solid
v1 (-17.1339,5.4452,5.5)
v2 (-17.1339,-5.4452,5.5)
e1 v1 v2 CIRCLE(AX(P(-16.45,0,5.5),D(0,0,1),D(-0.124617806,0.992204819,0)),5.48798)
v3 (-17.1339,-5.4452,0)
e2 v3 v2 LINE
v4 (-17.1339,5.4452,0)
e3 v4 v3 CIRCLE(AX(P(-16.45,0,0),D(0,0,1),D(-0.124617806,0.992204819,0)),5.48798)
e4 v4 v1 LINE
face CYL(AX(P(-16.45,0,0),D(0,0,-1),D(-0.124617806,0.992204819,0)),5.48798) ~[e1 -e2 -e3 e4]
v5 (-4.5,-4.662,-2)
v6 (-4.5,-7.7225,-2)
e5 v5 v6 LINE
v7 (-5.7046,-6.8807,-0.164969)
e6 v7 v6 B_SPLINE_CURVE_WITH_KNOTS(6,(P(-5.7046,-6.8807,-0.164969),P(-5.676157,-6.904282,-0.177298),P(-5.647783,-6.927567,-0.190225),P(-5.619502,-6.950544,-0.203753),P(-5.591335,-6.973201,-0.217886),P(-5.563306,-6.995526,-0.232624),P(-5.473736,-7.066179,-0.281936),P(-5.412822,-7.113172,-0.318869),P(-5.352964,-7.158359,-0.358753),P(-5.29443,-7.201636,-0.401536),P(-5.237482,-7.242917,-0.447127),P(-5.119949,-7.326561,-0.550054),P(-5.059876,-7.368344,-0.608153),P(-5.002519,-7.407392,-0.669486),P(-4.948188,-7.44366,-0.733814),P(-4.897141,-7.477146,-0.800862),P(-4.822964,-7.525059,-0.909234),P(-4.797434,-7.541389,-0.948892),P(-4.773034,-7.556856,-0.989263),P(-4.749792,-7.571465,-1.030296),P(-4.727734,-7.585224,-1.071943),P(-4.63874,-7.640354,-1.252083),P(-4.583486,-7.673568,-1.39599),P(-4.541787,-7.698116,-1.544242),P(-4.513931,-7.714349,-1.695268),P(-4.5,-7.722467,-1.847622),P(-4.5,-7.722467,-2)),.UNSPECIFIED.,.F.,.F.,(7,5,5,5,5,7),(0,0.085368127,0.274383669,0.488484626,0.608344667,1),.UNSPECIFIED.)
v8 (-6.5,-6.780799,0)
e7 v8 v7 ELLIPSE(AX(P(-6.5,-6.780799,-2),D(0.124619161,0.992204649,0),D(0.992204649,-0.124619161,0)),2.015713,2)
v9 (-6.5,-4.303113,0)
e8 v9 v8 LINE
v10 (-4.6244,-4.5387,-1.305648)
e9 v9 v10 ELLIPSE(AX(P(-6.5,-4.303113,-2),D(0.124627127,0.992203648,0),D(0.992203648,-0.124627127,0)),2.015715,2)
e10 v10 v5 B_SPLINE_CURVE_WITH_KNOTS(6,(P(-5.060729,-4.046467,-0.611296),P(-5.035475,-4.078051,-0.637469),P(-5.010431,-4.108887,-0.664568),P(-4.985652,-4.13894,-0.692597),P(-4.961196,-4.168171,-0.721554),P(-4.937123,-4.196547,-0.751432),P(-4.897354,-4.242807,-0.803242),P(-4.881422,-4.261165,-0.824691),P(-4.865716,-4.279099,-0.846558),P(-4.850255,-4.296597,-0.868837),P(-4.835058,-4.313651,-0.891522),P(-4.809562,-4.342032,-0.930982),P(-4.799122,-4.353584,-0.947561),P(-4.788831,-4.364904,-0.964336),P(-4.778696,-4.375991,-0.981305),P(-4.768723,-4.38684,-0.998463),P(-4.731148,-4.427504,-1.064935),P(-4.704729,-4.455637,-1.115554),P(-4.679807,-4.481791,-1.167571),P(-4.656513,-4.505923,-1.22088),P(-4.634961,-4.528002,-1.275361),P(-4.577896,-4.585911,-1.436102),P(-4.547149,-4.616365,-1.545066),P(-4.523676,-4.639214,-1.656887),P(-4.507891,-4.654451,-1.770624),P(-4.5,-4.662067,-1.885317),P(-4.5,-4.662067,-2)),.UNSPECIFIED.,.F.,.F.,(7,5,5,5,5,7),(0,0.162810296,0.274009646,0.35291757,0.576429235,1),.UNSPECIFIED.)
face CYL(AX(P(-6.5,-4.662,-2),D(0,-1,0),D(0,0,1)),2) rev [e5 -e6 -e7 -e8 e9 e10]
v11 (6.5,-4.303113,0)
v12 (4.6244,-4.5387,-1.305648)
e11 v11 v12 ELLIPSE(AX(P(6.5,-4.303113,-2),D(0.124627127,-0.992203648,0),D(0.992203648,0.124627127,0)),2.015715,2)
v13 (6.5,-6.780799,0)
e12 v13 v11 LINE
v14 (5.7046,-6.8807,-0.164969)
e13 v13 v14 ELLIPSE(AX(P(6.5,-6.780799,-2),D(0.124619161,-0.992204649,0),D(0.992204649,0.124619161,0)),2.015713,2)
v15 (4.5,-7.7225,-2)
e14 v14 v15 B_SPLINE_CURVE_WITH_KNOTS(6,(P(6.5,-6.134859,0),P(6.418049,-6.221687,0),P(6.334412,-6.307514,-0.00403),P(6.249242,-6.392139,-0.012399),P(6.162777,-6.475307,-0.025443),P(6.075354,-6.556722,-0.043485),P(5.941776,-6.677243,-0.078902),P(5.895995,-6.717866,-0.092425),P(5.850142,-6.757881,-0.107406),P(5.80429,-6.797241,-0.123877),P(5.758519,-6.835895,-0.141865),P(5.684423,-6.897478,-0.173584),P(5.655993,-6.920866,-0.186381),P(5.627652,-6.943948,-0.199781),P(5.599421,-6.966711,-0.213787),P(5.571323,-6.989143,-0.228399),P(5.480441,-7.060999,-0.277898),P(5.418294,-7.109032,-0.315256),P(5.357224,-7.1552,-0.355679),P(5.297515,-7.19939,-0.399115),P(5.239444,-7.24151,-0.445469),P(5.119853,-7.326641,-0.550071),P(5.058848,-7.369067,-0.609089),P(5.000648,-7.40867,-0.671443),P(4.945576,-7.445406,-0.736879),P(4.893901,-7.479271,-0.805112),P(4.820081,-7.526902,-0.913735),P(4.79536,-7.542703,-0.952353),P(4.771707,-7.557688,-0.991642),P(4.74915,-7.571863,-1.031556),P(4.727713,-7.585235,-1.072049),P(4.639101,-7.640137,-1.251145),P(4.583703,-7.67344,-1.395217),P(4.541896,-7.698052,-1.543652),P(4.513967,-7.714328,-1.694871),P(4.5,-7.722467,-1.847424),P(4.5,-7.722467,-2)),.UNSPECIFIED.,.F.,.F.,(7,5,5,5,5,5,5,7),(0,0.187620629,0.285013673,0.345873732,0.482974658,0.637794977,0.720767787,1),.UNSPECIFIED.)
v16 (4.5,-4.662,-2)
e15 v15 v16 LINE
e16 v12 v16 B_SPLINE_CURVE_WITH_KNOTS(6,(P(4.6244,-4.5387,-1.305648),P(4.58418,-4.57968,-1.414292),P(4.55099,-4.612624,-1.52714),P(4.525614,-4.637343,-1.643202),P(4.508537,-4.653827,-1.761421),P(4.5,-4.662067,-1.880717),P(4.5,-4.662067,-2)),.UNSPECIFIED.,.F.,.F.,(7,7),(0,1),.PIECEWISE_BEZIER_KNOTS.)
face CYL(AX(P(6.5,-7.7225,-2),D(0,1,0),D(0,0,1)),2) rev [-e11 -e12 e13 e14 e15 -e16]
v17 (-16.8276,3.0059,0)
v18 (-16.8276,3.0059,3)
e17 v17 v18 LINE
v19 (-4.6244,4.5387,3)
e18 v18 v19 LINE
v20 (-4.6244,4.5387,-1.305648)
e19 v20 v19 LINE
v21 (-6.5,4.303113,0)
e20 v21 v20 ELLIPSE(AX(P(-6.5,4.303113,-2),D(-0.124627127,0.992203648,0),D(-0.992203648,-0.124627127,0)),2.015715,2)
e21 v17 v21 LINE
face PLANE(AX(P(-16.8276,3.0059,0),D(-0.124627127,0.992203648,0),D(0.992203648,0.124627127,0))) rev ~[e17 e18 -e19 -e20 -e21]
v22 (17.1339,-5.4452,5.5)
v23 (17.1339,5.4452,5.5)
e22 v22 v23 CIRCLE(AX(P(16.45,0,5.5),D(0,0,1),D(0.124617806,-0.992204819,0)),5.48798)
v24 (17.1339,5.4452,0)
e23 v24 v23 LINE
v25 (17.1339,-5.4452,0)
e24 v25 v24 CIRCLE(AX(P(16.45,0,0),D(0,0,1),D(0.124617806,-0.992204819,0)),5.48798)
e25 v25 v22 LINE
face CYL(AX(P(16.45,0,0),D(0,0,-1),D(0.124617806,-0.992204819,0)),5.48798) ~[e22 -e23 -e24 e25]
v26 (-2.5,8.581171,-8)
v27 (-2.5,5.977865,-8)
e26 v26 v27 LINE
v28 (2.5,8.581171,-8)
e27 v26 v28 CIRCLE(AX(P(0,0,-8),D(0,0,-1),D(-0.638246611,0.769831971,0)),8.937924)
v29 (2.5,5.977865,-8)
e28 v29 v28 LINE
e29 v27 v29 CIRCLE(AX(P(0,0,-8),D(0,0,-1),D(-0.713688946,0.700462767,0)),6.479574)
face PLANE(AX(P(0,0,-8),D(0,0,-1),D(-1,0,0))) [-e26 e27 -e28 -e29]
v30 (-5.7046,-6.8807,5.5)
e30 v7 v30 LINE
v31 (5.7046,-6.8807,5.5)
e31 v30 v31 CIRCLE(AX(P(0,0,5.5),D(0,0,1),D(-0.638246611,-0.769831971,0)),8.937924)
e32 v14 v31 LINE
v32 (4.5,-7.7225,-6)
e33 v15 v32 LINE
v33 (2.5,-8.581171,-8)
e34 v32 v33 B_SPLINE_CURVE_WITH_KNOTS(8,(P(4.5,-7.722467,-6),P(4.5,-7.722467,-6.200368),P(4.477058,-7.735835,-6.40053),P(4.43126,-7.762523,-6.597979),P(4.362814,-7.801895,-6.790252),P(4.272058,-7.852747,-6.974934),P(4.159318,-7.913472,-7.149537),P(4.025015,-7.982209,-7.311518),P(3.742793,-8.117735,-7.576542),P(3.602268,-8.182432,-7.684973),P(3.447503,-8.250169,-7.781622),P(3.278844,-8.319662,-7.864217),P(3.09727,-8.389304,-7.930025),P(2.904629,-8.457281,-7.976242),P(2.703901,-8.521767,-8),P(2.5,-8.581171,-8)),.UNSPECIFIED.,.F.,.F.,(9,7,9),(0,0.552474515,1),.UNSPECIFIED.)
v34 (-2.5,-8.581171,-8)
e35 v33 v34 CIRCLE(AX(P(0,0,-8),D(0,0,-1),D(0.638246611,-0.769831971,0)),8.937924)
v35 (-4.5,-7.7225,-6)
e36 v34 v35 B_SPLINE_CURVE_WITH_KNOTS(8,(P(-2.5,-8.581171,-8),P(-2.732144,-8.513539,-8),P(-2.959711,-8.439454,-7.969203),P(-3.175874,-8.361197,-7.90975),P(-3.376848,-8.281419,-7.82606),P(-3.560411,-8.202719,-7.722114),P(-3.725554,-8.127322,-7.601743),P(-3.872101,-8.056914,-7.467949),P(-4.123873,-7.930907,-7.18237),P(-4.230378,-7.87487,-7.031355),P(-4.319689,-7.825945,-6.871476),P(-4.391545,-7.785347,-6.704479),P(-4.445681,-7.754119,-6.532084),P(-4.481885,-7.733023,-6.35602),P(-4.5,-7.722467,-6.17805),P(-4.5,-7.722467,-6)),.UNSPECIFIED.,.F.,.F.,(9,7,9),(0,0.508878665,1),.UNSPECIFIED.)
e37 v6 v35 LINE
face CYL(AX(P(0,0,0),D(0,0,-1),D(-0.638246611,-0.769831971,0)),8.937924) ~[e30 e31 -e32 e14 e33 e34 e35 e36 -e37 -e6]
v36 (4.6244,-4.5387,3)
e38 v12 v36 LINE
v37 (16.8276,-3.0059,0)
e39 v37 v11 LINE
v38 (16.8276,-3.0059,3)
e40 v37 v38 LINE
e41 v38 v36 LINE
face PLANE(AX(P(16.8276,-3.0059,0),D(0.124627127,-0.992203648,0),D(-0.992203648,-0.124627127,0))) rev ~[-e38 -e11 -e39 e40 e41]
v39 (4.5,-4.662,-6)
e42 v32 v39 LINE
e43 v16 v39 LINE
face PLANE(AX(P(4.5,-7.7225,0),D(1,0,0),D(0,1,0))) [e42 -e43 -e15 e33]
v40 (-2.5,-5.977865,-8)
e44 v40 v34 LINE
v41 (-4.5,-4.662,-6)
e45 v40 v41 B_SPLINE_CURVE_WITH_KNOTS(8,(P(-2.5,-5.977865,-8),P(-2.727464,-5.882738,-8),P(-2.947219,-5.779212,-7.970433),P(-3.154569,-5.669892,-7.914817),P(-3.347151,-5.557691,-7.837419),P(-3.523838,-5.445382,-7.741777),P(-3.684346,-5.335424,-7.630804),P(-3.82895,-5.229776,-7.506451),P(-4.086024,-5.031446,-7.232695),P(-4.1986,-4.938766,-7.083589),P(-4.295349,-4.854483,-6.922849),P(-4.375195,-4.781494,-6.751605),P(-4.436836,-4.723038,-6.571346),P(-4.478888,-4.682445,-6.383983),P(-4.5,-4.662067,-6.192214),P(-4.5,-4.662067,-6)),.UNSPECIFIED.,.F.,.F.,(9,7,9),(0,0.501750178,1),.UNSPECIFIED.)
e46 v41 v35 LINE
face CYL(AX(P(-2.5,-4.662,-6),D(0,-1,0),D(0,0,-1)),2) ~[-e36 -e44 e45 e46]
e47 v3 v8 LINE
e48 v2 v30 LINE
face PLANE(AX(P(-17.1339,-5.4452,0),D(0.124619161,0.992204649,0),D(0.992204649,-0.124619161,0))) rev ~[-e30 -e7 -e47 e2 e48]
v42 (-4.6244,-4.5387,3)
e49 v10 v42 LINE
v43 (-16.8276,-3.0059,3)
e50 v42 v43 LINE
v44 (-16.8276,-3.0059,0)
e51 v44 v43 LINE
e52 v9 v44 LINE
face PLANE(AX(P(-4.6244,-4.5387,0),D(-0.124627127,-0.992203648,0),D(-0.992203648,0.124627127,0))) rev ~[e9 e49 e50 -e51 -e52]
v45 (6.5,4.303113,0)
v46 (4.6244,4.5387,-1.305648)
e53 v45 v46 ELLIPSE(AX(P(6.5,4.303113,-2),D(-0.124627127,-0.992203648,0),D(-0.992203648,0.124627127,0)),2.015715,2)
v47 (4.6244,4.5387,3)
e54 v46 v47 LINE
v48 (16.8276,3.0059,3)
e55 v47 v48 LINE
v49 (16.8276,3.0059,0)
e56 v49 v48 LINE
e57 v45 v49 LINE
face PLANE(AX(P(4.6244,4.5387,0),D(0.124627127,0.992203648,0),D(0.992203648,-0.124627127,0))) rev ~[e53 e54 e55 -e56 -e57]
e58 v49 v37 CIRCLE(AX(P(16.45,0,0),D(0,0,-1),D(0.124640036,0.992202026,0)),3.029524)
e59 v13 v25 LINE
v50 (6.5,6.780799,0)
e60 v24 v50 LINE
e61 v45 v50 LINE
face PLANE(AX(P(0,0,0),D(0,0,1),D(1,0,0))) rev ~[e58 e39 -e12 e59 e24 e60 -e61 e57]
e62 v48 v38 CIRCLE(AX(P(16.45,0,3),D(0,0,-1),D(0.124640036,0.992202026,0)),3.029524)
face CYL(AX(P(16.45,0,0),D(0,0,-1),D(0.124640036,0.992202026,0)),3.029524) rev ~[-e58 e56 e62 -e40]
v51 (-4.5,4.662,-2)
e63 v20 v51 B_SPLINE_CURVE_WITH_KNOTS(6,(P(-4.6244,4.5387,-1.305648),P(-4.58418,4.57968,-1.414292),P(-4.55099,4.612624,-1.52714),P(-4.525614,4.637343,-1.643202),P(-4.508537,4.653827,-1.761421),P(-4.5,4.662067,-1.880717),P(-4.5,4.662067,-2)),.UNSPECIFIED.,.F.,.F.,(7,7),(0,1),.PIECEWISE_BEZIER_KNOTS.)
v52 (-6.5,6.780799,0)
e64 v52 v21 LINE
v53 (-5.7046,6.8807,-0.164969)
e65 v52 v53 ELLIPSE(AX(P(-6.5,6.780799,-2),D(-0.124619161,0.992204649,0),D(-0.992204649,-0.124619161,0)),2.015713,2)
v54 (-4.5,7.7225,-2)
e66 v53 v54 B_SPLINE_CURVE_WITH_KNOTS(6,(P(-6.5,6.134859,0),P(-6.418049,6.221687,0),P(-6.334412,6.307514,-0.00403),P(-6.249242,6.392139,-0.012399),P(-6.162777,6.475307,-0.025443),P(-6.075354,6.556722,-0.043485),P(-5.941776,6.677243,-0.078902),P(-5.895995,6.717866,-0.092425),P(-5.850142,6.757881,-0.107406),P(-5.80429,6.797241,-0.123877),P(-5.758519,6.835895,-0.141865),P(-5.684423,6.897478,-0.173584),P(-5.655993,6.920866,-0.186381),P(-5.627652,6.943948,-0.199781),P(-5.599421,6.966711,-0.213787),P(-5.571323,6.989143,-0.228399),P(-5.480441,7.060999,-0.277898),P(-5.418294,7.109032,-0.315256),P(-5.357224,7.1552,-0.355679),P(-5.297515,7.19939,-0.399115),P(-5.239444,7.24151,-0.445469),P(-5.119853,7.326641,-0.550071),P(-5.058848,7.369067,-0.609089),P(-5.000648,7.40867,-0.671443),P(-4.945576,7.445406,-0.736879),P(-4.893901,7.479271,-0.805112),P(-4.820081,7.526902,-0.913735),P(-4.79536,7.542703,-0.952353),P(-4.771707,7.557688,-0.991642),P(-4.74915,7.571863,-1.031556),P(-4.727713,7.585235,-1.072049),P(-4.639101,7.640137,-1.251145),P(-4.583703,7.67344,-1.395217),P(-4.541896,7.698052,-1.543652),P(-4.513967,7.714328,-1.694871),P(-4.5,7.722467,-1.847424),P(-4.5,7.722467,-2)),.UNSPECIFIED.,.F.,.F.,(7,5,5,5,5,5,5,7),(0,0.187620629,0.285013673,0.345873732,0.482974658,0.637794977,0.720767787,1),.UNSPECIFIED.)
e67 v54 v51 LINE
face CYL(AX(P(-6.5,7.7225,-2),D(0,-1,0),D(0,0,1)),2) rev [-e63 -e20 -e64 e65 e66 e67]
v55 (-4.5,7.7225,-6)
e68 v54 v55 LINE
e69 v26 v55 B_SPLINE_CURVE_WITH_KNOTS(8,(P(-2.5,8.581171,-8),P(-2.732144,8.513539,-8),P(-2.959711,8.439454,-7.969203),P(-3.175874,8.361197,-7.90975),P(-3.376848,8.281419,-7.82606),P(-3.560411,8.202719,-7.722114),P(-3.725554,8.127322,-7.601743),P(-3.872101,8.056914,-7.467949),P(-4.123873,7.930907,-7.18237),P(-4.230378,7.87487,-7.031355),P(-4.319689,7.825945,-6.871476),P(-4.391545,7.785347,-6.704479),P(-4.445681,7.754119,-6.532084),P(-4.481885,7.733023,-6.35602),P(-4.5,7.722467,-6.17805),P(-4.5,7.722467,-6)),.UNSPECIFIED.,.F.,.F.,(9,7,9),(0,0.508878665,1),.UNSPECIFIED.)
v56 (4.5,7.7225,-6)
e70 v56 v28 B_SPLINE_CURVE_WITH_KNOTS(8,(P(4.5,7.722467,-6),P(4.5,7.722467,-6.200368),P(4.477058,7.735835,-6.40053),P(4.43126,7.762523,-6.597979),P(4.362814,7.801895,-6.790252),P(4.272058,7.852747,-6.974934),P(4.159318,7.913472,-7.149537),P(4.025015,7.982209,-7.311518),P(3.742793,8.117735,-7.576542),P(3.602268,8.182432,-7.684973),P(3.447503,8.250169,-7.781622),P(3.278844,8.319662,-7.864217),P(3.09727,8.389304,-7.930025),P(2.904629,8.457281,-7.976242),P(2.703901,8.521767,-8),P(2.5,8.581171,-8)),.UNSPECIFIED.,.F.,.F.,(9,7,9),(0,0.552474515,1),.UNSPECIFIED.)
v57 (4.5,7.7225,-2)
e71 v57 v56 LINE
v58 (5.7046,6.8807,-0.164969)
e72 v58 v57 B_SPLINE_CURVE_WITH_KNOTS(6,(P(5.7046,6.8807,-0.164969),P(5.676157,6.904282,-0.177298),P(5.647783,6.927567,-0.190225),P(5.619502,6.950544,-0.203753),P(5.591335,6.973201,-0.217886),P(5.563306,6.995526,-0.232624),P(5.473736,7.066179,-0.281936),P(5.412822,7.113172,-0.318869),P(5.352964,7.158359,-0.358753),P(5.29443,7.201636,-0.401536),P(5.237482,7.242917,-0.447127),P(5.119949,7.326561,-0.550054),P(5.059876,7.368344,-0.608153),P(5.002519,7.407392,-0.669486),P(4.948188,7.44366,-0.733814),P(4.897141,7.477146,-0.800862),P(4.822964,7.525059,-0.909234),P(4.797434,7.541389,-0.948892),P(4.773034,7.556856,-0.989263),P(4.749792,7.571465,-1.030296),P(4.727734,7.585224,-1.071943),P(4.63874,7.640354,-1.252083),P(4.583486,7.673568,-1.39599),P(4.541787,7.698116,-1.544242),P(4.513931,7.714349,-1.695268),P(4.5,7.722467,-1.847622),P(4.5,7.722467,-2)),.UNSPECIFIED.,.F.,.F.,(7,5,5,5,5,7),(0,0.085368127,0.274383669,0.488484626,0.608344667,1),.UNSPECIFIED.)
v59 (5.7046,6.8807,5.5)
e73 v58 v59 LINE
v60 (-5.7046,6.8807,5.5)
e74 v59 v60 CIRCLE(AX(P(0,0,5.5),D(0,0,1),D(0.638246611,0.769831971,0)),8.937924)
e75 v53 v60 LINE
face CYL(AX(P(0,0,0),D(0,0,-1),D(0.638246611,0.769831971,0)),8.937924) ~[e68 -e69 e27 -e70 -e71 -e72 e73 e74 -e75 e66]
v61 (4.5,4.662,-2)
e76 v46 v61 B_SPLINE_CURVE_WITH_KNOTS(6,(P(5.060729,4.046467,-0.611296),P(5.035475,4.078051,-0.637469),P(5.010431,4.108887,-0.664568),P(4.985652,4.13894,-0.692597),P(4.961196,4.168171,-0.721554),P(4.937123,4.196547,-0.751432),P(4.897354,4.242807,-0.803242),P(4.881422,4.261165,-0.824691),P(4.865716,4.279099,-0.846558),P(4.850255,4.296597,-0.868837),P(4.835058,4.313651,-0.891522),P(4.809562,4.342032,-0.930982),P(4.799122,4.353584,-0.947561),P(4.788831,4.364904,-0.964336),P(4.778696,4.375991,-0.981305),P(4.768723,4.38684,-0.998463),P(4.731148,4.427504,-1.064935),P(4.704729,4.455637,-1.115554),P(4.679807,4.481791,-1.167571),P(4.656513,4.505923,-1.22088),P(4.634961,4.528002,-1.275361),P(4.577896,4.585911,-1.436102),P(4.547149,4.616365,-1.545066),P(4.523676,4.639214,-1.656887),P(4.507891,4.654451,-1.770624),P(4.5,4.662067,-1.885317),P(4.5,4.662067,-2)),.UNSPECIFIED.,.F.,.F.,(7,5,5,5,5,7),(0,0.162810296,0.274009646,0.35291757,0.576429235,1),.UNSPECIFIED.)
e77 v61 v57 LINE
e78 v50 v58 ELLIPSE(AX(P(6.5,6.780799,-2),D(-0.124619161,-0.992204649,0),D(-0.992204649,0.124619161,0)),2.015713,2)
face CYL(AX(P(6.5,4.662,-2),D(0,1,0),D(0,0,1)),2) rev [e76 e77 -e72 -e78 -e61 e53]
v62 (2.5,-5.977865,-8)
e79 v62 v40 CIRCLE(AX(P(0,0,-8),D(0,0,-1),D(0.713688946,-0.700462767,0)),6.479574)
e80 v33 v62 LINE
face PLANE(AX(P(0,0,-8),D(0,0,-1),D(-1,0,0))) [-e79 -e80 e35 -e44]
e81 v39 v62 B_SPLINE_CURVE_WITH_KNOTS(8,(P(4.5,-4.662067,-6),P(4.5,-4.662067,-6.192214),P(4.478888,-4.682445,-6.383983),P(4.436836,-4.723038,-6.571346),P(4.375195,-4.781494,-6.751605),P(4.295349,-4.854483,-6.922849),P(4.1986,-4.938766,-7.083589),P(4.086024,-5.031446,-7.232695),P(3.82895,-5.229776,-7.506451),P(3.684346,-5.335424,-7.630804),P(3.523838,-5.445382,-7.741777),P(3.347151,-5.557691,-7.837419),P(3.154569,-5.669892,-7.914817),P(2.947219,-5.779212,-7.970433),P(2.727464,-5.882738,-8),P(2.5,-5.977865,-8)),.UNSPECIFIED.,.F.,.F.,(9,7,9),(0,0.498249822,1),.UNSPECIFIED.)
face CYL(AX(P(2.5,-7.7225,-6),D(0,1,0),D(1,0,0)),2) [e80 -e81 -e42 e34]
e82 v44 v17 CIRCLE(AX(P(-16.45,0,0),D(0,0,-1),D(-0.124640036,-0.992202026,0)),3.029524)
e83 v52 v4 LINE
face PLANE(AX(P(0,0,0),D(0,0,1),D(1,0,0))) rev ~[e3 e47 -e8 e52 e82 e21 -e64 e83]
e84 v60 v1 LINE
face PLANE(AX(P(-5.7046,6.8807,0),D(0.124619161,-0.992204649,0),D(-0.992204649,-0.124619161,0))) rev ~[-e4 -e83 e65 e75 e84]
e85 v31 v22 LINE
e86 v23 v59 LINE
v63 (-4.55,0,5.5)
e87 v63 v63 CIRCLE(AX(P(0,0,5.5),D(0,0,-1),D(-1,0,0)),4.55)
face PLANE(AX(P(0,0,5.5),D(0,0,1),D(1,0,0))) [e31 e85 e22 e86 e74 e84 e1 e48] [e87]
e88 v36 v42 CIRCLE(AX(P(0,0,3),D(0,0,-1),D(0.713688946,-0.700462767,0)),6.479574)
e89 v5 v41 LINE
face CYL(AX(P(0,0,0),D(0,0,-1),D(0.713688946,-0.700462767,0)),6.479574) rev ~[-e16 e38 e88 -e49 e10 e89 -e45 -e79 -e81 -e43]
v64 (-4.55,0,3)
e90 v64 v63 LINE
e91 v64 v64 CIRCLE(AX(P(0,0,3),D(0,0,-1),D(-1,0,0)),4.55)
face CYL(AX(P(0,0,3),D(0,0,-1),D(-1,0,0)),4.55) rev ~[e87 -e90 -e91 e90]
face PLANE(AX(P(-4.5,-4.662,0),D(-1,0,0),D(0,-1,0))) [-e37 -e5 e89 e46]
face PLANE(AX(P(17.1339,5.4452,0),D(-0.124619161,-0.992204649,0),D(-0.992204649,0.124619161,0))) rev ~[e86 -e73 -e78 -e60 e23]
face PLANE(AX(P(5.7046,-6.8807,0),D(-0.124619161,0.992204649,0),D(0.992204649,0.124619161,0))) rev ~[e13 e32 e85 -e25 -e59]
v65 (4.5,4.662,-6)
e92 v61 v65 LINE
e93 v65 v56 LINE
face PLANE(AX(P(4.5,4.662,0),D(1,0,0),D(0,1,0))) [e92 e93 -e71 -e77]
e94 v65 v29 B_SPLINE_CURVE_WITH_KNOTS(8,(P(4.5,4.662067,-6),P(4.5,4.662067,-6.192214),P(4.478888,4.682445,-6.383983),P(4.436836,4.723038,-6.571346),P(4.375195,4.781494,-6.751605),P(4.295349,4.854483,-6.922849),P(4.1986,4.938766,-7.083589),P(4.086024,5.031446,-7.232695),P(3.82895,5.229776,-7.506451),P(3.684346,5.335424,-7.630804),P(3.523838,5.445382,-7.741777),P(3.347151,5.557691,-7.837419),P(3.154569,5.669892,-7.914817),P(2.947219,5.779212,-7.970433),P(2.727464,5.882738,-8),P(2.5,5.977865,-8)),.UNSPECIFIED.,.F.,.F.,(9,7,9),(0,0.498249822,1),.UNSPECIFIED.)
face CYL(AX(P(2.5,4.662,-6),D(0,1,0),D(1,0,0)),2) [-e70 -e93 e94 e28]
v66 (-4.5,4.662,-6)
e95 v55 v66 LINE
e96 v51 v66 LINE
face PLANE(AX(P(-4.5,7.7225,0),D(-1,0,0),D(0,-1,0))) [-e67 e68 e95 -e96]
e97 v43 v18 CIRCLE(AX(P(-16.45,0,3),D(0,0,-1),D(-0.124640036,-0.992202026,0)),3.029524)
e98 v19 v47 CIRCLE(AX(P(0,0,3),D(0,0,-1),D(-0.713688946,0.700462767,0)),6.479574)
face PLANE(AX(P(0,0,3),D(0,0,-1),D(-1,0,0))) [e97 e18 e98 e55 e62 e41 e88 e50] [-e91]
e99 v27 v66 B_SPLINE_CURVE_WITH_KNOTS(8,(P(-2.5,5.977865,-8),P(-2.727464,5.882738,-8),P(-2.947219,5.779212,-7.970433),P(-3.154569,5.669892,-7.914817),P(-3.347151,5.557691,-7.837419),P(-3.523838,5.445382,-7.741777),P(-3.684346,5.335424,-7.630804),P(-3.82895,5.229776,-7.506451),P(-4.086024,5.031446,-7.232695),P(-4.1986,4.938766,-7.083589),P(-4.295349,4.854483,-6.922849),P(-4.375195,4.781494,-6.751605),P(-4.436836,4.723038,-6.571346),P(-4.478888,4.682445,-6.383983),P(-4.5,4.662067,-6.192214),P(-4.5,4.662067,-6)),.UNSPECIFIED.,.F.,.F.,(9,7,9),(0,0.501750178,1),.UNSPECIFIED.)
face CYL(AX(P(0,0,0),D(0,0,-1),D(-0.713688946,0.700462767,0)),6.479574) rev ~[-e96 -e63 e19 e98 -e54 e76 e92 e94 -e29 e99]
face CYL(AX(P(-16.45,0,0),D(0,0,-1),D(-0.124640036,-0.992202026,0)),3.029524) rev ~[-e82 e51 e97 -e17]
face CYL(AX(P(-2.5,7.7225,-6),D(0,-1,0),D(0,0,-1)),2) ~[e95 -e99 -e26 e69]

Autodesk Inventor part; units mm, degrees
ref_plane "YZ Plane" through (0, 0, 0) normal (1, 0, 0) x (0, 1, 0)
ref_plane "XZ Plane" through (0, 0, 0) normal (0, 1, 0) x (-1, 0, 0)
ref_plane "XY Plane" through (0, 0, 0) normal (0, 0, 1) x (1, 0, 0)
sketch "bASE" plane through (0, 0, 0) normal (0, 0, 1) x (1, 0, 0)
  arc A0 (-16.7865, 2.679) -> (-16.7865, -2.679) centre (-16.45, 0) ccw
  arc A1 (16.7865, -2.679) -> (16.7865, 2.679) centre (16.45, 0) ccw
  line L0 (4.4678, -4.2262) -> (16.7865, -2.679)
  line L1 (4.4678, 4.2262) -> (16.7865, 2.679)
  line L2 (-4.4678, 4.2262) -> (-16.7865, 2.679)
  line L3 (-4.4678, -4.2262) -> (-16.7865, -2.679)
  arc A2 (-4.4678, -4.2262) -> (4.4678, -4.2262) centre (0, 0) ccw
  arc A3 (4.4678, 4.2262) -> (-4.4678, 4.2262) centre (0, 0) ccw
  point P0 (0, 4.2262)
  dimension "d20" = 5.4
  dimension "d21" = 5.4
sketch "Coupling" plane through (0, 0, 0) normal (0, 0, 1) x (1, 0, 0)
  line L0 (-4.4678, 4.2262) -> (-16.7865, 2.679) projected
  arc A0 (4.4678, 4.2262) -> (-4.4678, 4.2262) centre (0, 0) ccw projected
  line L1 (4.4678, 4.2262) -> (16.7865, 2.679) projected
  arc A1 (16.7865, -2.679) -> (16.7865, 2.679) centre (16.45, 0) ccw projected
  line L2 (4.4678, -4.2262) -> (16.7865, -2.679) projected
  arc A2 (-4.4678, -4.2262) -> (4.4678, -4.2262) centre (0, 0) ccw projected
  line L3 (-4.4678, -4.2262) -> (-16.7865, -2.679) projected
  arc A3 (-16.7865, 2.679) -> (-16.7865, -2.679) centre (-16.45, 0) ccw projected
  line L4 (17.1339, 5.4452) -> (5.7046, 6.8807)
  arc A4 (5.7046, 6.8807) -> (-5.7046, 6.8807) centre (0, 0) ccw
  line L5 (-5.7046, 6.8807) -> (-17.1339, 5.4452)
  arc A5 (-17.1339, 5.4452) -> (-17.1339, -5.4452) centre (-16.45, 0) ccw
  line L6 (-17.1339, -5.4452) -> (-5.7046, -6.8807)
  arc A6 (-5.7046, -6.8807) -> (5.7046, -6.8807) centre (0, 0) ccw
  line L7 (5.7046, -6.8807) -> (17.1339, -5.4452)
  arc A7 (17.1339, -5.4452) -> (17.1339, 5.4452) centre (16.45, 0) ccw
extrude "Extrusion7" add sketch "Coupling" along normal blind 5.5 contours A0 L1 A1 L2 A2 L3 A3 L0 | A7 L7 A6 L6 A5 L5 A4 L4
extrude "Extrusion8" cut sketch "bASE" along normal blind 3
sketch "Sketch8" plane through (0, 0, 3) normal (0, 0, -1) x (-1, 0, 0)
  arc A0 (-4.4678, -4.2262) -> (4.4678, -4.2262) centre (0, 0) ccw projected
  circle A1 centre (0, 0) radius 4.55
  dimension "d26" = 9.1
extrude "Extrusion9" cut sketch "Sketch8" against normal blind 3
sketch "Sketch9" plane through (0, 0, 0) normal (0, 0, -1) x (-1, 0, 0)
  arc A0 (4.4678, 4.2262) -> (-4.4678, 4.2262) centre (0, 0) ccw projected
  line L0 (4.4678, 4.2262) -> (16.7865, 2.679) projected
  arc A1 (16.7865, -2.679) -> (16.7865, 2.679) centre (16.45, 0) ccw projected
  line L1 (16.7865, -2.679) -> (4.4678, -4.2262) projected
  arc A2 (-4.4678, -4.2262) -> (4.4678, -4.2262) centre (0, 0) ccw projected
  line L2 (-4.4678, -4.2262) -> (-16.7865, -2.679) projected
  arc A3 (-16.7865, 2.679) -> (-16.7865, -2.679) centre (-16.45, 0) ccw projected
  line L3 (-16.7865, 2.679) -> (-4.4678, 4.2262) projected
  line L4 (16.8276, 3.0059) -> (4.6244, 4.5387)
  arc A4 (4.6244, 4.5387) -> (-4.6244, 4.5387) centre (0, 0) ccw
  line L5 (-4.6244, 4.5387) -> (-16.8276, 3.0059)
  arc A5 (-16.8276, 3.0059) -> (-16.8276, -3.0059) centre (-16.45, 0) ccw
  line L6 (-16.8276, -3.0059) -> (-4.6244, -4.5387)
  arc A6 (-4.6244, -4.5387) -> (4.6244, -4.5387) centre (0, 0) ccw
  line L7 (4.6244, -4.5387) -> (16.8276, -3.0059)
  arc A7 (16.8276, -3.0059) -> (16.8276, 3.0059) centre (16.45, 0) ccw
extrude "Extrusion10" cut sketch "Sketch9" against normal up to surface (3 mm away)
sketch "Sketch10" plane through (0, 0, 0) normal (0, 0, -1) x (-1, 0, 0)
  arc A0 (-4.6244, -4.5387) -> (4.6244, -4.5387) centre (0, 0) ccw projected
  line L0 (-4.6244, -4.5387) -> (-16.8276, -3.0059) projected
  line L1 (-16.8276, 3.0059) -> (-4.6244, 4.5387) projected
  arc A1 (4.6244, 4.5387) -> (-4.6244, 4.5387) centre (0, 0) ccw projected
  line L2 (4.6244, 4.5387) -> (16.8276, 3.0059) projected
  line L3 (16.8276, -3.0059) -> (4.6244, -4.5387) projected
  arc A2 (-5.7046, -6.8807) -> (5.7046, -6.8807) centre (0, 0) ccw projected
  arc A3 (5.7046, 6.8807) -> (-5.7046, 6.8807) centre (0, 0) ccw projected
  arc A4 (-4.6244, -4.5387) -> (4.6244, -4.5387) centre (0, 0) ccw
  arc A5 (4.6244, 4.5387) -> (-4.6244, 4.5387) centre (0, 0) ccw
  line L4 (4.5, 7.7225) -> (4.5, 4.662)
  line L5 (4.5, -4.662) -> (4.5, -7.7225)
  line L6 (-4.5, -7.7225) -> (-4.5, -4.662)
  line L7 (-4.5, 4.662) -> (-4.5, 7.7225)
  point P0 (4.5, 0)
extrude "Extrusion11" add sketch "Sketch10" along normal blind 8
sketch "Sketch11" plane through (0, 0, 0) normal (0, 1, 0) x (-1, 0, 0)
  arc A0 (-8.5, -3.2) -> (-11.5, -3.2) centre (-10, -4) ccw projected
  spline S0 degree 3 poles (-11.7, -4) (-11.7, -4.2199) (-11.655, -4.4494) (-11.4803, -4.8659) (-11.3506, -5.0536) (-11.0543, -5.3499) (-10.8664, -5.4801) (-10.4488, -5.6552) (-10.2188, -5.7) (-9.7812, -5.7) (-9.5512, -5.6552) (-9.1336, -5.4801) (-8.9457, -5.3499) (-8.6494, -5.0536) (-8.5197, -4.8659) (-8.345, -4.4494) (-8.3, -4.2199) (-8.3, -3.7801) (-8.345, -3.5506) (-8.5197, -3.1341) (-8.6494, -2.9464) (-8.9457, -2.6501) (-9.1336, -2.5199) (-9.5512, -2.3448) (-9.7812, -2.3) (-10.2188, -2.3) (-10.4488, -2.3448) (-10.8664, -2.5199) (-11.0543, -2.6501) (-11.3506, -2.9464) (-11.4803, -3.1341) (-11.655, -3.5506) (-11.7, -3.7801) (-11.7, -4) knots 0 0 0 0 0.065958 0.065958 0.131917 0.131917 0.197553 0.197553 0.263189 0.263189 0.328824 0.328824 0.39446 0.39446 0.460419 0.460419 0.526377 0.526377 0.592335 0.592335 0.658294 0.658294 0.72393 0.72393 0.789566 0.789566 0.855201 0.855201 0.920837 0.920837 0.986796 0.986796 1.052754 1.052754 1.052754 1.052754 projected
  point P0 (0, 0)
  point P1 (-11.7, -4)
extrude "Extrusion12" cut sketch "Sketch11" along normal through all both and the other way through all
fillet "Fillet1" radius 2 8 edges at (-4.5, 6.1923, 0) (-4.5, -6.1923, 0) (4.5, 6.1923, 0) (4.5, -6.1923, 0) (4.5, -6.1923, -8) (4.5, 6.1923, -8) (-4.5, 6.1923, -8) (-4.5, -6.1923, -8)
properties part number "ServoHornPocket2"
